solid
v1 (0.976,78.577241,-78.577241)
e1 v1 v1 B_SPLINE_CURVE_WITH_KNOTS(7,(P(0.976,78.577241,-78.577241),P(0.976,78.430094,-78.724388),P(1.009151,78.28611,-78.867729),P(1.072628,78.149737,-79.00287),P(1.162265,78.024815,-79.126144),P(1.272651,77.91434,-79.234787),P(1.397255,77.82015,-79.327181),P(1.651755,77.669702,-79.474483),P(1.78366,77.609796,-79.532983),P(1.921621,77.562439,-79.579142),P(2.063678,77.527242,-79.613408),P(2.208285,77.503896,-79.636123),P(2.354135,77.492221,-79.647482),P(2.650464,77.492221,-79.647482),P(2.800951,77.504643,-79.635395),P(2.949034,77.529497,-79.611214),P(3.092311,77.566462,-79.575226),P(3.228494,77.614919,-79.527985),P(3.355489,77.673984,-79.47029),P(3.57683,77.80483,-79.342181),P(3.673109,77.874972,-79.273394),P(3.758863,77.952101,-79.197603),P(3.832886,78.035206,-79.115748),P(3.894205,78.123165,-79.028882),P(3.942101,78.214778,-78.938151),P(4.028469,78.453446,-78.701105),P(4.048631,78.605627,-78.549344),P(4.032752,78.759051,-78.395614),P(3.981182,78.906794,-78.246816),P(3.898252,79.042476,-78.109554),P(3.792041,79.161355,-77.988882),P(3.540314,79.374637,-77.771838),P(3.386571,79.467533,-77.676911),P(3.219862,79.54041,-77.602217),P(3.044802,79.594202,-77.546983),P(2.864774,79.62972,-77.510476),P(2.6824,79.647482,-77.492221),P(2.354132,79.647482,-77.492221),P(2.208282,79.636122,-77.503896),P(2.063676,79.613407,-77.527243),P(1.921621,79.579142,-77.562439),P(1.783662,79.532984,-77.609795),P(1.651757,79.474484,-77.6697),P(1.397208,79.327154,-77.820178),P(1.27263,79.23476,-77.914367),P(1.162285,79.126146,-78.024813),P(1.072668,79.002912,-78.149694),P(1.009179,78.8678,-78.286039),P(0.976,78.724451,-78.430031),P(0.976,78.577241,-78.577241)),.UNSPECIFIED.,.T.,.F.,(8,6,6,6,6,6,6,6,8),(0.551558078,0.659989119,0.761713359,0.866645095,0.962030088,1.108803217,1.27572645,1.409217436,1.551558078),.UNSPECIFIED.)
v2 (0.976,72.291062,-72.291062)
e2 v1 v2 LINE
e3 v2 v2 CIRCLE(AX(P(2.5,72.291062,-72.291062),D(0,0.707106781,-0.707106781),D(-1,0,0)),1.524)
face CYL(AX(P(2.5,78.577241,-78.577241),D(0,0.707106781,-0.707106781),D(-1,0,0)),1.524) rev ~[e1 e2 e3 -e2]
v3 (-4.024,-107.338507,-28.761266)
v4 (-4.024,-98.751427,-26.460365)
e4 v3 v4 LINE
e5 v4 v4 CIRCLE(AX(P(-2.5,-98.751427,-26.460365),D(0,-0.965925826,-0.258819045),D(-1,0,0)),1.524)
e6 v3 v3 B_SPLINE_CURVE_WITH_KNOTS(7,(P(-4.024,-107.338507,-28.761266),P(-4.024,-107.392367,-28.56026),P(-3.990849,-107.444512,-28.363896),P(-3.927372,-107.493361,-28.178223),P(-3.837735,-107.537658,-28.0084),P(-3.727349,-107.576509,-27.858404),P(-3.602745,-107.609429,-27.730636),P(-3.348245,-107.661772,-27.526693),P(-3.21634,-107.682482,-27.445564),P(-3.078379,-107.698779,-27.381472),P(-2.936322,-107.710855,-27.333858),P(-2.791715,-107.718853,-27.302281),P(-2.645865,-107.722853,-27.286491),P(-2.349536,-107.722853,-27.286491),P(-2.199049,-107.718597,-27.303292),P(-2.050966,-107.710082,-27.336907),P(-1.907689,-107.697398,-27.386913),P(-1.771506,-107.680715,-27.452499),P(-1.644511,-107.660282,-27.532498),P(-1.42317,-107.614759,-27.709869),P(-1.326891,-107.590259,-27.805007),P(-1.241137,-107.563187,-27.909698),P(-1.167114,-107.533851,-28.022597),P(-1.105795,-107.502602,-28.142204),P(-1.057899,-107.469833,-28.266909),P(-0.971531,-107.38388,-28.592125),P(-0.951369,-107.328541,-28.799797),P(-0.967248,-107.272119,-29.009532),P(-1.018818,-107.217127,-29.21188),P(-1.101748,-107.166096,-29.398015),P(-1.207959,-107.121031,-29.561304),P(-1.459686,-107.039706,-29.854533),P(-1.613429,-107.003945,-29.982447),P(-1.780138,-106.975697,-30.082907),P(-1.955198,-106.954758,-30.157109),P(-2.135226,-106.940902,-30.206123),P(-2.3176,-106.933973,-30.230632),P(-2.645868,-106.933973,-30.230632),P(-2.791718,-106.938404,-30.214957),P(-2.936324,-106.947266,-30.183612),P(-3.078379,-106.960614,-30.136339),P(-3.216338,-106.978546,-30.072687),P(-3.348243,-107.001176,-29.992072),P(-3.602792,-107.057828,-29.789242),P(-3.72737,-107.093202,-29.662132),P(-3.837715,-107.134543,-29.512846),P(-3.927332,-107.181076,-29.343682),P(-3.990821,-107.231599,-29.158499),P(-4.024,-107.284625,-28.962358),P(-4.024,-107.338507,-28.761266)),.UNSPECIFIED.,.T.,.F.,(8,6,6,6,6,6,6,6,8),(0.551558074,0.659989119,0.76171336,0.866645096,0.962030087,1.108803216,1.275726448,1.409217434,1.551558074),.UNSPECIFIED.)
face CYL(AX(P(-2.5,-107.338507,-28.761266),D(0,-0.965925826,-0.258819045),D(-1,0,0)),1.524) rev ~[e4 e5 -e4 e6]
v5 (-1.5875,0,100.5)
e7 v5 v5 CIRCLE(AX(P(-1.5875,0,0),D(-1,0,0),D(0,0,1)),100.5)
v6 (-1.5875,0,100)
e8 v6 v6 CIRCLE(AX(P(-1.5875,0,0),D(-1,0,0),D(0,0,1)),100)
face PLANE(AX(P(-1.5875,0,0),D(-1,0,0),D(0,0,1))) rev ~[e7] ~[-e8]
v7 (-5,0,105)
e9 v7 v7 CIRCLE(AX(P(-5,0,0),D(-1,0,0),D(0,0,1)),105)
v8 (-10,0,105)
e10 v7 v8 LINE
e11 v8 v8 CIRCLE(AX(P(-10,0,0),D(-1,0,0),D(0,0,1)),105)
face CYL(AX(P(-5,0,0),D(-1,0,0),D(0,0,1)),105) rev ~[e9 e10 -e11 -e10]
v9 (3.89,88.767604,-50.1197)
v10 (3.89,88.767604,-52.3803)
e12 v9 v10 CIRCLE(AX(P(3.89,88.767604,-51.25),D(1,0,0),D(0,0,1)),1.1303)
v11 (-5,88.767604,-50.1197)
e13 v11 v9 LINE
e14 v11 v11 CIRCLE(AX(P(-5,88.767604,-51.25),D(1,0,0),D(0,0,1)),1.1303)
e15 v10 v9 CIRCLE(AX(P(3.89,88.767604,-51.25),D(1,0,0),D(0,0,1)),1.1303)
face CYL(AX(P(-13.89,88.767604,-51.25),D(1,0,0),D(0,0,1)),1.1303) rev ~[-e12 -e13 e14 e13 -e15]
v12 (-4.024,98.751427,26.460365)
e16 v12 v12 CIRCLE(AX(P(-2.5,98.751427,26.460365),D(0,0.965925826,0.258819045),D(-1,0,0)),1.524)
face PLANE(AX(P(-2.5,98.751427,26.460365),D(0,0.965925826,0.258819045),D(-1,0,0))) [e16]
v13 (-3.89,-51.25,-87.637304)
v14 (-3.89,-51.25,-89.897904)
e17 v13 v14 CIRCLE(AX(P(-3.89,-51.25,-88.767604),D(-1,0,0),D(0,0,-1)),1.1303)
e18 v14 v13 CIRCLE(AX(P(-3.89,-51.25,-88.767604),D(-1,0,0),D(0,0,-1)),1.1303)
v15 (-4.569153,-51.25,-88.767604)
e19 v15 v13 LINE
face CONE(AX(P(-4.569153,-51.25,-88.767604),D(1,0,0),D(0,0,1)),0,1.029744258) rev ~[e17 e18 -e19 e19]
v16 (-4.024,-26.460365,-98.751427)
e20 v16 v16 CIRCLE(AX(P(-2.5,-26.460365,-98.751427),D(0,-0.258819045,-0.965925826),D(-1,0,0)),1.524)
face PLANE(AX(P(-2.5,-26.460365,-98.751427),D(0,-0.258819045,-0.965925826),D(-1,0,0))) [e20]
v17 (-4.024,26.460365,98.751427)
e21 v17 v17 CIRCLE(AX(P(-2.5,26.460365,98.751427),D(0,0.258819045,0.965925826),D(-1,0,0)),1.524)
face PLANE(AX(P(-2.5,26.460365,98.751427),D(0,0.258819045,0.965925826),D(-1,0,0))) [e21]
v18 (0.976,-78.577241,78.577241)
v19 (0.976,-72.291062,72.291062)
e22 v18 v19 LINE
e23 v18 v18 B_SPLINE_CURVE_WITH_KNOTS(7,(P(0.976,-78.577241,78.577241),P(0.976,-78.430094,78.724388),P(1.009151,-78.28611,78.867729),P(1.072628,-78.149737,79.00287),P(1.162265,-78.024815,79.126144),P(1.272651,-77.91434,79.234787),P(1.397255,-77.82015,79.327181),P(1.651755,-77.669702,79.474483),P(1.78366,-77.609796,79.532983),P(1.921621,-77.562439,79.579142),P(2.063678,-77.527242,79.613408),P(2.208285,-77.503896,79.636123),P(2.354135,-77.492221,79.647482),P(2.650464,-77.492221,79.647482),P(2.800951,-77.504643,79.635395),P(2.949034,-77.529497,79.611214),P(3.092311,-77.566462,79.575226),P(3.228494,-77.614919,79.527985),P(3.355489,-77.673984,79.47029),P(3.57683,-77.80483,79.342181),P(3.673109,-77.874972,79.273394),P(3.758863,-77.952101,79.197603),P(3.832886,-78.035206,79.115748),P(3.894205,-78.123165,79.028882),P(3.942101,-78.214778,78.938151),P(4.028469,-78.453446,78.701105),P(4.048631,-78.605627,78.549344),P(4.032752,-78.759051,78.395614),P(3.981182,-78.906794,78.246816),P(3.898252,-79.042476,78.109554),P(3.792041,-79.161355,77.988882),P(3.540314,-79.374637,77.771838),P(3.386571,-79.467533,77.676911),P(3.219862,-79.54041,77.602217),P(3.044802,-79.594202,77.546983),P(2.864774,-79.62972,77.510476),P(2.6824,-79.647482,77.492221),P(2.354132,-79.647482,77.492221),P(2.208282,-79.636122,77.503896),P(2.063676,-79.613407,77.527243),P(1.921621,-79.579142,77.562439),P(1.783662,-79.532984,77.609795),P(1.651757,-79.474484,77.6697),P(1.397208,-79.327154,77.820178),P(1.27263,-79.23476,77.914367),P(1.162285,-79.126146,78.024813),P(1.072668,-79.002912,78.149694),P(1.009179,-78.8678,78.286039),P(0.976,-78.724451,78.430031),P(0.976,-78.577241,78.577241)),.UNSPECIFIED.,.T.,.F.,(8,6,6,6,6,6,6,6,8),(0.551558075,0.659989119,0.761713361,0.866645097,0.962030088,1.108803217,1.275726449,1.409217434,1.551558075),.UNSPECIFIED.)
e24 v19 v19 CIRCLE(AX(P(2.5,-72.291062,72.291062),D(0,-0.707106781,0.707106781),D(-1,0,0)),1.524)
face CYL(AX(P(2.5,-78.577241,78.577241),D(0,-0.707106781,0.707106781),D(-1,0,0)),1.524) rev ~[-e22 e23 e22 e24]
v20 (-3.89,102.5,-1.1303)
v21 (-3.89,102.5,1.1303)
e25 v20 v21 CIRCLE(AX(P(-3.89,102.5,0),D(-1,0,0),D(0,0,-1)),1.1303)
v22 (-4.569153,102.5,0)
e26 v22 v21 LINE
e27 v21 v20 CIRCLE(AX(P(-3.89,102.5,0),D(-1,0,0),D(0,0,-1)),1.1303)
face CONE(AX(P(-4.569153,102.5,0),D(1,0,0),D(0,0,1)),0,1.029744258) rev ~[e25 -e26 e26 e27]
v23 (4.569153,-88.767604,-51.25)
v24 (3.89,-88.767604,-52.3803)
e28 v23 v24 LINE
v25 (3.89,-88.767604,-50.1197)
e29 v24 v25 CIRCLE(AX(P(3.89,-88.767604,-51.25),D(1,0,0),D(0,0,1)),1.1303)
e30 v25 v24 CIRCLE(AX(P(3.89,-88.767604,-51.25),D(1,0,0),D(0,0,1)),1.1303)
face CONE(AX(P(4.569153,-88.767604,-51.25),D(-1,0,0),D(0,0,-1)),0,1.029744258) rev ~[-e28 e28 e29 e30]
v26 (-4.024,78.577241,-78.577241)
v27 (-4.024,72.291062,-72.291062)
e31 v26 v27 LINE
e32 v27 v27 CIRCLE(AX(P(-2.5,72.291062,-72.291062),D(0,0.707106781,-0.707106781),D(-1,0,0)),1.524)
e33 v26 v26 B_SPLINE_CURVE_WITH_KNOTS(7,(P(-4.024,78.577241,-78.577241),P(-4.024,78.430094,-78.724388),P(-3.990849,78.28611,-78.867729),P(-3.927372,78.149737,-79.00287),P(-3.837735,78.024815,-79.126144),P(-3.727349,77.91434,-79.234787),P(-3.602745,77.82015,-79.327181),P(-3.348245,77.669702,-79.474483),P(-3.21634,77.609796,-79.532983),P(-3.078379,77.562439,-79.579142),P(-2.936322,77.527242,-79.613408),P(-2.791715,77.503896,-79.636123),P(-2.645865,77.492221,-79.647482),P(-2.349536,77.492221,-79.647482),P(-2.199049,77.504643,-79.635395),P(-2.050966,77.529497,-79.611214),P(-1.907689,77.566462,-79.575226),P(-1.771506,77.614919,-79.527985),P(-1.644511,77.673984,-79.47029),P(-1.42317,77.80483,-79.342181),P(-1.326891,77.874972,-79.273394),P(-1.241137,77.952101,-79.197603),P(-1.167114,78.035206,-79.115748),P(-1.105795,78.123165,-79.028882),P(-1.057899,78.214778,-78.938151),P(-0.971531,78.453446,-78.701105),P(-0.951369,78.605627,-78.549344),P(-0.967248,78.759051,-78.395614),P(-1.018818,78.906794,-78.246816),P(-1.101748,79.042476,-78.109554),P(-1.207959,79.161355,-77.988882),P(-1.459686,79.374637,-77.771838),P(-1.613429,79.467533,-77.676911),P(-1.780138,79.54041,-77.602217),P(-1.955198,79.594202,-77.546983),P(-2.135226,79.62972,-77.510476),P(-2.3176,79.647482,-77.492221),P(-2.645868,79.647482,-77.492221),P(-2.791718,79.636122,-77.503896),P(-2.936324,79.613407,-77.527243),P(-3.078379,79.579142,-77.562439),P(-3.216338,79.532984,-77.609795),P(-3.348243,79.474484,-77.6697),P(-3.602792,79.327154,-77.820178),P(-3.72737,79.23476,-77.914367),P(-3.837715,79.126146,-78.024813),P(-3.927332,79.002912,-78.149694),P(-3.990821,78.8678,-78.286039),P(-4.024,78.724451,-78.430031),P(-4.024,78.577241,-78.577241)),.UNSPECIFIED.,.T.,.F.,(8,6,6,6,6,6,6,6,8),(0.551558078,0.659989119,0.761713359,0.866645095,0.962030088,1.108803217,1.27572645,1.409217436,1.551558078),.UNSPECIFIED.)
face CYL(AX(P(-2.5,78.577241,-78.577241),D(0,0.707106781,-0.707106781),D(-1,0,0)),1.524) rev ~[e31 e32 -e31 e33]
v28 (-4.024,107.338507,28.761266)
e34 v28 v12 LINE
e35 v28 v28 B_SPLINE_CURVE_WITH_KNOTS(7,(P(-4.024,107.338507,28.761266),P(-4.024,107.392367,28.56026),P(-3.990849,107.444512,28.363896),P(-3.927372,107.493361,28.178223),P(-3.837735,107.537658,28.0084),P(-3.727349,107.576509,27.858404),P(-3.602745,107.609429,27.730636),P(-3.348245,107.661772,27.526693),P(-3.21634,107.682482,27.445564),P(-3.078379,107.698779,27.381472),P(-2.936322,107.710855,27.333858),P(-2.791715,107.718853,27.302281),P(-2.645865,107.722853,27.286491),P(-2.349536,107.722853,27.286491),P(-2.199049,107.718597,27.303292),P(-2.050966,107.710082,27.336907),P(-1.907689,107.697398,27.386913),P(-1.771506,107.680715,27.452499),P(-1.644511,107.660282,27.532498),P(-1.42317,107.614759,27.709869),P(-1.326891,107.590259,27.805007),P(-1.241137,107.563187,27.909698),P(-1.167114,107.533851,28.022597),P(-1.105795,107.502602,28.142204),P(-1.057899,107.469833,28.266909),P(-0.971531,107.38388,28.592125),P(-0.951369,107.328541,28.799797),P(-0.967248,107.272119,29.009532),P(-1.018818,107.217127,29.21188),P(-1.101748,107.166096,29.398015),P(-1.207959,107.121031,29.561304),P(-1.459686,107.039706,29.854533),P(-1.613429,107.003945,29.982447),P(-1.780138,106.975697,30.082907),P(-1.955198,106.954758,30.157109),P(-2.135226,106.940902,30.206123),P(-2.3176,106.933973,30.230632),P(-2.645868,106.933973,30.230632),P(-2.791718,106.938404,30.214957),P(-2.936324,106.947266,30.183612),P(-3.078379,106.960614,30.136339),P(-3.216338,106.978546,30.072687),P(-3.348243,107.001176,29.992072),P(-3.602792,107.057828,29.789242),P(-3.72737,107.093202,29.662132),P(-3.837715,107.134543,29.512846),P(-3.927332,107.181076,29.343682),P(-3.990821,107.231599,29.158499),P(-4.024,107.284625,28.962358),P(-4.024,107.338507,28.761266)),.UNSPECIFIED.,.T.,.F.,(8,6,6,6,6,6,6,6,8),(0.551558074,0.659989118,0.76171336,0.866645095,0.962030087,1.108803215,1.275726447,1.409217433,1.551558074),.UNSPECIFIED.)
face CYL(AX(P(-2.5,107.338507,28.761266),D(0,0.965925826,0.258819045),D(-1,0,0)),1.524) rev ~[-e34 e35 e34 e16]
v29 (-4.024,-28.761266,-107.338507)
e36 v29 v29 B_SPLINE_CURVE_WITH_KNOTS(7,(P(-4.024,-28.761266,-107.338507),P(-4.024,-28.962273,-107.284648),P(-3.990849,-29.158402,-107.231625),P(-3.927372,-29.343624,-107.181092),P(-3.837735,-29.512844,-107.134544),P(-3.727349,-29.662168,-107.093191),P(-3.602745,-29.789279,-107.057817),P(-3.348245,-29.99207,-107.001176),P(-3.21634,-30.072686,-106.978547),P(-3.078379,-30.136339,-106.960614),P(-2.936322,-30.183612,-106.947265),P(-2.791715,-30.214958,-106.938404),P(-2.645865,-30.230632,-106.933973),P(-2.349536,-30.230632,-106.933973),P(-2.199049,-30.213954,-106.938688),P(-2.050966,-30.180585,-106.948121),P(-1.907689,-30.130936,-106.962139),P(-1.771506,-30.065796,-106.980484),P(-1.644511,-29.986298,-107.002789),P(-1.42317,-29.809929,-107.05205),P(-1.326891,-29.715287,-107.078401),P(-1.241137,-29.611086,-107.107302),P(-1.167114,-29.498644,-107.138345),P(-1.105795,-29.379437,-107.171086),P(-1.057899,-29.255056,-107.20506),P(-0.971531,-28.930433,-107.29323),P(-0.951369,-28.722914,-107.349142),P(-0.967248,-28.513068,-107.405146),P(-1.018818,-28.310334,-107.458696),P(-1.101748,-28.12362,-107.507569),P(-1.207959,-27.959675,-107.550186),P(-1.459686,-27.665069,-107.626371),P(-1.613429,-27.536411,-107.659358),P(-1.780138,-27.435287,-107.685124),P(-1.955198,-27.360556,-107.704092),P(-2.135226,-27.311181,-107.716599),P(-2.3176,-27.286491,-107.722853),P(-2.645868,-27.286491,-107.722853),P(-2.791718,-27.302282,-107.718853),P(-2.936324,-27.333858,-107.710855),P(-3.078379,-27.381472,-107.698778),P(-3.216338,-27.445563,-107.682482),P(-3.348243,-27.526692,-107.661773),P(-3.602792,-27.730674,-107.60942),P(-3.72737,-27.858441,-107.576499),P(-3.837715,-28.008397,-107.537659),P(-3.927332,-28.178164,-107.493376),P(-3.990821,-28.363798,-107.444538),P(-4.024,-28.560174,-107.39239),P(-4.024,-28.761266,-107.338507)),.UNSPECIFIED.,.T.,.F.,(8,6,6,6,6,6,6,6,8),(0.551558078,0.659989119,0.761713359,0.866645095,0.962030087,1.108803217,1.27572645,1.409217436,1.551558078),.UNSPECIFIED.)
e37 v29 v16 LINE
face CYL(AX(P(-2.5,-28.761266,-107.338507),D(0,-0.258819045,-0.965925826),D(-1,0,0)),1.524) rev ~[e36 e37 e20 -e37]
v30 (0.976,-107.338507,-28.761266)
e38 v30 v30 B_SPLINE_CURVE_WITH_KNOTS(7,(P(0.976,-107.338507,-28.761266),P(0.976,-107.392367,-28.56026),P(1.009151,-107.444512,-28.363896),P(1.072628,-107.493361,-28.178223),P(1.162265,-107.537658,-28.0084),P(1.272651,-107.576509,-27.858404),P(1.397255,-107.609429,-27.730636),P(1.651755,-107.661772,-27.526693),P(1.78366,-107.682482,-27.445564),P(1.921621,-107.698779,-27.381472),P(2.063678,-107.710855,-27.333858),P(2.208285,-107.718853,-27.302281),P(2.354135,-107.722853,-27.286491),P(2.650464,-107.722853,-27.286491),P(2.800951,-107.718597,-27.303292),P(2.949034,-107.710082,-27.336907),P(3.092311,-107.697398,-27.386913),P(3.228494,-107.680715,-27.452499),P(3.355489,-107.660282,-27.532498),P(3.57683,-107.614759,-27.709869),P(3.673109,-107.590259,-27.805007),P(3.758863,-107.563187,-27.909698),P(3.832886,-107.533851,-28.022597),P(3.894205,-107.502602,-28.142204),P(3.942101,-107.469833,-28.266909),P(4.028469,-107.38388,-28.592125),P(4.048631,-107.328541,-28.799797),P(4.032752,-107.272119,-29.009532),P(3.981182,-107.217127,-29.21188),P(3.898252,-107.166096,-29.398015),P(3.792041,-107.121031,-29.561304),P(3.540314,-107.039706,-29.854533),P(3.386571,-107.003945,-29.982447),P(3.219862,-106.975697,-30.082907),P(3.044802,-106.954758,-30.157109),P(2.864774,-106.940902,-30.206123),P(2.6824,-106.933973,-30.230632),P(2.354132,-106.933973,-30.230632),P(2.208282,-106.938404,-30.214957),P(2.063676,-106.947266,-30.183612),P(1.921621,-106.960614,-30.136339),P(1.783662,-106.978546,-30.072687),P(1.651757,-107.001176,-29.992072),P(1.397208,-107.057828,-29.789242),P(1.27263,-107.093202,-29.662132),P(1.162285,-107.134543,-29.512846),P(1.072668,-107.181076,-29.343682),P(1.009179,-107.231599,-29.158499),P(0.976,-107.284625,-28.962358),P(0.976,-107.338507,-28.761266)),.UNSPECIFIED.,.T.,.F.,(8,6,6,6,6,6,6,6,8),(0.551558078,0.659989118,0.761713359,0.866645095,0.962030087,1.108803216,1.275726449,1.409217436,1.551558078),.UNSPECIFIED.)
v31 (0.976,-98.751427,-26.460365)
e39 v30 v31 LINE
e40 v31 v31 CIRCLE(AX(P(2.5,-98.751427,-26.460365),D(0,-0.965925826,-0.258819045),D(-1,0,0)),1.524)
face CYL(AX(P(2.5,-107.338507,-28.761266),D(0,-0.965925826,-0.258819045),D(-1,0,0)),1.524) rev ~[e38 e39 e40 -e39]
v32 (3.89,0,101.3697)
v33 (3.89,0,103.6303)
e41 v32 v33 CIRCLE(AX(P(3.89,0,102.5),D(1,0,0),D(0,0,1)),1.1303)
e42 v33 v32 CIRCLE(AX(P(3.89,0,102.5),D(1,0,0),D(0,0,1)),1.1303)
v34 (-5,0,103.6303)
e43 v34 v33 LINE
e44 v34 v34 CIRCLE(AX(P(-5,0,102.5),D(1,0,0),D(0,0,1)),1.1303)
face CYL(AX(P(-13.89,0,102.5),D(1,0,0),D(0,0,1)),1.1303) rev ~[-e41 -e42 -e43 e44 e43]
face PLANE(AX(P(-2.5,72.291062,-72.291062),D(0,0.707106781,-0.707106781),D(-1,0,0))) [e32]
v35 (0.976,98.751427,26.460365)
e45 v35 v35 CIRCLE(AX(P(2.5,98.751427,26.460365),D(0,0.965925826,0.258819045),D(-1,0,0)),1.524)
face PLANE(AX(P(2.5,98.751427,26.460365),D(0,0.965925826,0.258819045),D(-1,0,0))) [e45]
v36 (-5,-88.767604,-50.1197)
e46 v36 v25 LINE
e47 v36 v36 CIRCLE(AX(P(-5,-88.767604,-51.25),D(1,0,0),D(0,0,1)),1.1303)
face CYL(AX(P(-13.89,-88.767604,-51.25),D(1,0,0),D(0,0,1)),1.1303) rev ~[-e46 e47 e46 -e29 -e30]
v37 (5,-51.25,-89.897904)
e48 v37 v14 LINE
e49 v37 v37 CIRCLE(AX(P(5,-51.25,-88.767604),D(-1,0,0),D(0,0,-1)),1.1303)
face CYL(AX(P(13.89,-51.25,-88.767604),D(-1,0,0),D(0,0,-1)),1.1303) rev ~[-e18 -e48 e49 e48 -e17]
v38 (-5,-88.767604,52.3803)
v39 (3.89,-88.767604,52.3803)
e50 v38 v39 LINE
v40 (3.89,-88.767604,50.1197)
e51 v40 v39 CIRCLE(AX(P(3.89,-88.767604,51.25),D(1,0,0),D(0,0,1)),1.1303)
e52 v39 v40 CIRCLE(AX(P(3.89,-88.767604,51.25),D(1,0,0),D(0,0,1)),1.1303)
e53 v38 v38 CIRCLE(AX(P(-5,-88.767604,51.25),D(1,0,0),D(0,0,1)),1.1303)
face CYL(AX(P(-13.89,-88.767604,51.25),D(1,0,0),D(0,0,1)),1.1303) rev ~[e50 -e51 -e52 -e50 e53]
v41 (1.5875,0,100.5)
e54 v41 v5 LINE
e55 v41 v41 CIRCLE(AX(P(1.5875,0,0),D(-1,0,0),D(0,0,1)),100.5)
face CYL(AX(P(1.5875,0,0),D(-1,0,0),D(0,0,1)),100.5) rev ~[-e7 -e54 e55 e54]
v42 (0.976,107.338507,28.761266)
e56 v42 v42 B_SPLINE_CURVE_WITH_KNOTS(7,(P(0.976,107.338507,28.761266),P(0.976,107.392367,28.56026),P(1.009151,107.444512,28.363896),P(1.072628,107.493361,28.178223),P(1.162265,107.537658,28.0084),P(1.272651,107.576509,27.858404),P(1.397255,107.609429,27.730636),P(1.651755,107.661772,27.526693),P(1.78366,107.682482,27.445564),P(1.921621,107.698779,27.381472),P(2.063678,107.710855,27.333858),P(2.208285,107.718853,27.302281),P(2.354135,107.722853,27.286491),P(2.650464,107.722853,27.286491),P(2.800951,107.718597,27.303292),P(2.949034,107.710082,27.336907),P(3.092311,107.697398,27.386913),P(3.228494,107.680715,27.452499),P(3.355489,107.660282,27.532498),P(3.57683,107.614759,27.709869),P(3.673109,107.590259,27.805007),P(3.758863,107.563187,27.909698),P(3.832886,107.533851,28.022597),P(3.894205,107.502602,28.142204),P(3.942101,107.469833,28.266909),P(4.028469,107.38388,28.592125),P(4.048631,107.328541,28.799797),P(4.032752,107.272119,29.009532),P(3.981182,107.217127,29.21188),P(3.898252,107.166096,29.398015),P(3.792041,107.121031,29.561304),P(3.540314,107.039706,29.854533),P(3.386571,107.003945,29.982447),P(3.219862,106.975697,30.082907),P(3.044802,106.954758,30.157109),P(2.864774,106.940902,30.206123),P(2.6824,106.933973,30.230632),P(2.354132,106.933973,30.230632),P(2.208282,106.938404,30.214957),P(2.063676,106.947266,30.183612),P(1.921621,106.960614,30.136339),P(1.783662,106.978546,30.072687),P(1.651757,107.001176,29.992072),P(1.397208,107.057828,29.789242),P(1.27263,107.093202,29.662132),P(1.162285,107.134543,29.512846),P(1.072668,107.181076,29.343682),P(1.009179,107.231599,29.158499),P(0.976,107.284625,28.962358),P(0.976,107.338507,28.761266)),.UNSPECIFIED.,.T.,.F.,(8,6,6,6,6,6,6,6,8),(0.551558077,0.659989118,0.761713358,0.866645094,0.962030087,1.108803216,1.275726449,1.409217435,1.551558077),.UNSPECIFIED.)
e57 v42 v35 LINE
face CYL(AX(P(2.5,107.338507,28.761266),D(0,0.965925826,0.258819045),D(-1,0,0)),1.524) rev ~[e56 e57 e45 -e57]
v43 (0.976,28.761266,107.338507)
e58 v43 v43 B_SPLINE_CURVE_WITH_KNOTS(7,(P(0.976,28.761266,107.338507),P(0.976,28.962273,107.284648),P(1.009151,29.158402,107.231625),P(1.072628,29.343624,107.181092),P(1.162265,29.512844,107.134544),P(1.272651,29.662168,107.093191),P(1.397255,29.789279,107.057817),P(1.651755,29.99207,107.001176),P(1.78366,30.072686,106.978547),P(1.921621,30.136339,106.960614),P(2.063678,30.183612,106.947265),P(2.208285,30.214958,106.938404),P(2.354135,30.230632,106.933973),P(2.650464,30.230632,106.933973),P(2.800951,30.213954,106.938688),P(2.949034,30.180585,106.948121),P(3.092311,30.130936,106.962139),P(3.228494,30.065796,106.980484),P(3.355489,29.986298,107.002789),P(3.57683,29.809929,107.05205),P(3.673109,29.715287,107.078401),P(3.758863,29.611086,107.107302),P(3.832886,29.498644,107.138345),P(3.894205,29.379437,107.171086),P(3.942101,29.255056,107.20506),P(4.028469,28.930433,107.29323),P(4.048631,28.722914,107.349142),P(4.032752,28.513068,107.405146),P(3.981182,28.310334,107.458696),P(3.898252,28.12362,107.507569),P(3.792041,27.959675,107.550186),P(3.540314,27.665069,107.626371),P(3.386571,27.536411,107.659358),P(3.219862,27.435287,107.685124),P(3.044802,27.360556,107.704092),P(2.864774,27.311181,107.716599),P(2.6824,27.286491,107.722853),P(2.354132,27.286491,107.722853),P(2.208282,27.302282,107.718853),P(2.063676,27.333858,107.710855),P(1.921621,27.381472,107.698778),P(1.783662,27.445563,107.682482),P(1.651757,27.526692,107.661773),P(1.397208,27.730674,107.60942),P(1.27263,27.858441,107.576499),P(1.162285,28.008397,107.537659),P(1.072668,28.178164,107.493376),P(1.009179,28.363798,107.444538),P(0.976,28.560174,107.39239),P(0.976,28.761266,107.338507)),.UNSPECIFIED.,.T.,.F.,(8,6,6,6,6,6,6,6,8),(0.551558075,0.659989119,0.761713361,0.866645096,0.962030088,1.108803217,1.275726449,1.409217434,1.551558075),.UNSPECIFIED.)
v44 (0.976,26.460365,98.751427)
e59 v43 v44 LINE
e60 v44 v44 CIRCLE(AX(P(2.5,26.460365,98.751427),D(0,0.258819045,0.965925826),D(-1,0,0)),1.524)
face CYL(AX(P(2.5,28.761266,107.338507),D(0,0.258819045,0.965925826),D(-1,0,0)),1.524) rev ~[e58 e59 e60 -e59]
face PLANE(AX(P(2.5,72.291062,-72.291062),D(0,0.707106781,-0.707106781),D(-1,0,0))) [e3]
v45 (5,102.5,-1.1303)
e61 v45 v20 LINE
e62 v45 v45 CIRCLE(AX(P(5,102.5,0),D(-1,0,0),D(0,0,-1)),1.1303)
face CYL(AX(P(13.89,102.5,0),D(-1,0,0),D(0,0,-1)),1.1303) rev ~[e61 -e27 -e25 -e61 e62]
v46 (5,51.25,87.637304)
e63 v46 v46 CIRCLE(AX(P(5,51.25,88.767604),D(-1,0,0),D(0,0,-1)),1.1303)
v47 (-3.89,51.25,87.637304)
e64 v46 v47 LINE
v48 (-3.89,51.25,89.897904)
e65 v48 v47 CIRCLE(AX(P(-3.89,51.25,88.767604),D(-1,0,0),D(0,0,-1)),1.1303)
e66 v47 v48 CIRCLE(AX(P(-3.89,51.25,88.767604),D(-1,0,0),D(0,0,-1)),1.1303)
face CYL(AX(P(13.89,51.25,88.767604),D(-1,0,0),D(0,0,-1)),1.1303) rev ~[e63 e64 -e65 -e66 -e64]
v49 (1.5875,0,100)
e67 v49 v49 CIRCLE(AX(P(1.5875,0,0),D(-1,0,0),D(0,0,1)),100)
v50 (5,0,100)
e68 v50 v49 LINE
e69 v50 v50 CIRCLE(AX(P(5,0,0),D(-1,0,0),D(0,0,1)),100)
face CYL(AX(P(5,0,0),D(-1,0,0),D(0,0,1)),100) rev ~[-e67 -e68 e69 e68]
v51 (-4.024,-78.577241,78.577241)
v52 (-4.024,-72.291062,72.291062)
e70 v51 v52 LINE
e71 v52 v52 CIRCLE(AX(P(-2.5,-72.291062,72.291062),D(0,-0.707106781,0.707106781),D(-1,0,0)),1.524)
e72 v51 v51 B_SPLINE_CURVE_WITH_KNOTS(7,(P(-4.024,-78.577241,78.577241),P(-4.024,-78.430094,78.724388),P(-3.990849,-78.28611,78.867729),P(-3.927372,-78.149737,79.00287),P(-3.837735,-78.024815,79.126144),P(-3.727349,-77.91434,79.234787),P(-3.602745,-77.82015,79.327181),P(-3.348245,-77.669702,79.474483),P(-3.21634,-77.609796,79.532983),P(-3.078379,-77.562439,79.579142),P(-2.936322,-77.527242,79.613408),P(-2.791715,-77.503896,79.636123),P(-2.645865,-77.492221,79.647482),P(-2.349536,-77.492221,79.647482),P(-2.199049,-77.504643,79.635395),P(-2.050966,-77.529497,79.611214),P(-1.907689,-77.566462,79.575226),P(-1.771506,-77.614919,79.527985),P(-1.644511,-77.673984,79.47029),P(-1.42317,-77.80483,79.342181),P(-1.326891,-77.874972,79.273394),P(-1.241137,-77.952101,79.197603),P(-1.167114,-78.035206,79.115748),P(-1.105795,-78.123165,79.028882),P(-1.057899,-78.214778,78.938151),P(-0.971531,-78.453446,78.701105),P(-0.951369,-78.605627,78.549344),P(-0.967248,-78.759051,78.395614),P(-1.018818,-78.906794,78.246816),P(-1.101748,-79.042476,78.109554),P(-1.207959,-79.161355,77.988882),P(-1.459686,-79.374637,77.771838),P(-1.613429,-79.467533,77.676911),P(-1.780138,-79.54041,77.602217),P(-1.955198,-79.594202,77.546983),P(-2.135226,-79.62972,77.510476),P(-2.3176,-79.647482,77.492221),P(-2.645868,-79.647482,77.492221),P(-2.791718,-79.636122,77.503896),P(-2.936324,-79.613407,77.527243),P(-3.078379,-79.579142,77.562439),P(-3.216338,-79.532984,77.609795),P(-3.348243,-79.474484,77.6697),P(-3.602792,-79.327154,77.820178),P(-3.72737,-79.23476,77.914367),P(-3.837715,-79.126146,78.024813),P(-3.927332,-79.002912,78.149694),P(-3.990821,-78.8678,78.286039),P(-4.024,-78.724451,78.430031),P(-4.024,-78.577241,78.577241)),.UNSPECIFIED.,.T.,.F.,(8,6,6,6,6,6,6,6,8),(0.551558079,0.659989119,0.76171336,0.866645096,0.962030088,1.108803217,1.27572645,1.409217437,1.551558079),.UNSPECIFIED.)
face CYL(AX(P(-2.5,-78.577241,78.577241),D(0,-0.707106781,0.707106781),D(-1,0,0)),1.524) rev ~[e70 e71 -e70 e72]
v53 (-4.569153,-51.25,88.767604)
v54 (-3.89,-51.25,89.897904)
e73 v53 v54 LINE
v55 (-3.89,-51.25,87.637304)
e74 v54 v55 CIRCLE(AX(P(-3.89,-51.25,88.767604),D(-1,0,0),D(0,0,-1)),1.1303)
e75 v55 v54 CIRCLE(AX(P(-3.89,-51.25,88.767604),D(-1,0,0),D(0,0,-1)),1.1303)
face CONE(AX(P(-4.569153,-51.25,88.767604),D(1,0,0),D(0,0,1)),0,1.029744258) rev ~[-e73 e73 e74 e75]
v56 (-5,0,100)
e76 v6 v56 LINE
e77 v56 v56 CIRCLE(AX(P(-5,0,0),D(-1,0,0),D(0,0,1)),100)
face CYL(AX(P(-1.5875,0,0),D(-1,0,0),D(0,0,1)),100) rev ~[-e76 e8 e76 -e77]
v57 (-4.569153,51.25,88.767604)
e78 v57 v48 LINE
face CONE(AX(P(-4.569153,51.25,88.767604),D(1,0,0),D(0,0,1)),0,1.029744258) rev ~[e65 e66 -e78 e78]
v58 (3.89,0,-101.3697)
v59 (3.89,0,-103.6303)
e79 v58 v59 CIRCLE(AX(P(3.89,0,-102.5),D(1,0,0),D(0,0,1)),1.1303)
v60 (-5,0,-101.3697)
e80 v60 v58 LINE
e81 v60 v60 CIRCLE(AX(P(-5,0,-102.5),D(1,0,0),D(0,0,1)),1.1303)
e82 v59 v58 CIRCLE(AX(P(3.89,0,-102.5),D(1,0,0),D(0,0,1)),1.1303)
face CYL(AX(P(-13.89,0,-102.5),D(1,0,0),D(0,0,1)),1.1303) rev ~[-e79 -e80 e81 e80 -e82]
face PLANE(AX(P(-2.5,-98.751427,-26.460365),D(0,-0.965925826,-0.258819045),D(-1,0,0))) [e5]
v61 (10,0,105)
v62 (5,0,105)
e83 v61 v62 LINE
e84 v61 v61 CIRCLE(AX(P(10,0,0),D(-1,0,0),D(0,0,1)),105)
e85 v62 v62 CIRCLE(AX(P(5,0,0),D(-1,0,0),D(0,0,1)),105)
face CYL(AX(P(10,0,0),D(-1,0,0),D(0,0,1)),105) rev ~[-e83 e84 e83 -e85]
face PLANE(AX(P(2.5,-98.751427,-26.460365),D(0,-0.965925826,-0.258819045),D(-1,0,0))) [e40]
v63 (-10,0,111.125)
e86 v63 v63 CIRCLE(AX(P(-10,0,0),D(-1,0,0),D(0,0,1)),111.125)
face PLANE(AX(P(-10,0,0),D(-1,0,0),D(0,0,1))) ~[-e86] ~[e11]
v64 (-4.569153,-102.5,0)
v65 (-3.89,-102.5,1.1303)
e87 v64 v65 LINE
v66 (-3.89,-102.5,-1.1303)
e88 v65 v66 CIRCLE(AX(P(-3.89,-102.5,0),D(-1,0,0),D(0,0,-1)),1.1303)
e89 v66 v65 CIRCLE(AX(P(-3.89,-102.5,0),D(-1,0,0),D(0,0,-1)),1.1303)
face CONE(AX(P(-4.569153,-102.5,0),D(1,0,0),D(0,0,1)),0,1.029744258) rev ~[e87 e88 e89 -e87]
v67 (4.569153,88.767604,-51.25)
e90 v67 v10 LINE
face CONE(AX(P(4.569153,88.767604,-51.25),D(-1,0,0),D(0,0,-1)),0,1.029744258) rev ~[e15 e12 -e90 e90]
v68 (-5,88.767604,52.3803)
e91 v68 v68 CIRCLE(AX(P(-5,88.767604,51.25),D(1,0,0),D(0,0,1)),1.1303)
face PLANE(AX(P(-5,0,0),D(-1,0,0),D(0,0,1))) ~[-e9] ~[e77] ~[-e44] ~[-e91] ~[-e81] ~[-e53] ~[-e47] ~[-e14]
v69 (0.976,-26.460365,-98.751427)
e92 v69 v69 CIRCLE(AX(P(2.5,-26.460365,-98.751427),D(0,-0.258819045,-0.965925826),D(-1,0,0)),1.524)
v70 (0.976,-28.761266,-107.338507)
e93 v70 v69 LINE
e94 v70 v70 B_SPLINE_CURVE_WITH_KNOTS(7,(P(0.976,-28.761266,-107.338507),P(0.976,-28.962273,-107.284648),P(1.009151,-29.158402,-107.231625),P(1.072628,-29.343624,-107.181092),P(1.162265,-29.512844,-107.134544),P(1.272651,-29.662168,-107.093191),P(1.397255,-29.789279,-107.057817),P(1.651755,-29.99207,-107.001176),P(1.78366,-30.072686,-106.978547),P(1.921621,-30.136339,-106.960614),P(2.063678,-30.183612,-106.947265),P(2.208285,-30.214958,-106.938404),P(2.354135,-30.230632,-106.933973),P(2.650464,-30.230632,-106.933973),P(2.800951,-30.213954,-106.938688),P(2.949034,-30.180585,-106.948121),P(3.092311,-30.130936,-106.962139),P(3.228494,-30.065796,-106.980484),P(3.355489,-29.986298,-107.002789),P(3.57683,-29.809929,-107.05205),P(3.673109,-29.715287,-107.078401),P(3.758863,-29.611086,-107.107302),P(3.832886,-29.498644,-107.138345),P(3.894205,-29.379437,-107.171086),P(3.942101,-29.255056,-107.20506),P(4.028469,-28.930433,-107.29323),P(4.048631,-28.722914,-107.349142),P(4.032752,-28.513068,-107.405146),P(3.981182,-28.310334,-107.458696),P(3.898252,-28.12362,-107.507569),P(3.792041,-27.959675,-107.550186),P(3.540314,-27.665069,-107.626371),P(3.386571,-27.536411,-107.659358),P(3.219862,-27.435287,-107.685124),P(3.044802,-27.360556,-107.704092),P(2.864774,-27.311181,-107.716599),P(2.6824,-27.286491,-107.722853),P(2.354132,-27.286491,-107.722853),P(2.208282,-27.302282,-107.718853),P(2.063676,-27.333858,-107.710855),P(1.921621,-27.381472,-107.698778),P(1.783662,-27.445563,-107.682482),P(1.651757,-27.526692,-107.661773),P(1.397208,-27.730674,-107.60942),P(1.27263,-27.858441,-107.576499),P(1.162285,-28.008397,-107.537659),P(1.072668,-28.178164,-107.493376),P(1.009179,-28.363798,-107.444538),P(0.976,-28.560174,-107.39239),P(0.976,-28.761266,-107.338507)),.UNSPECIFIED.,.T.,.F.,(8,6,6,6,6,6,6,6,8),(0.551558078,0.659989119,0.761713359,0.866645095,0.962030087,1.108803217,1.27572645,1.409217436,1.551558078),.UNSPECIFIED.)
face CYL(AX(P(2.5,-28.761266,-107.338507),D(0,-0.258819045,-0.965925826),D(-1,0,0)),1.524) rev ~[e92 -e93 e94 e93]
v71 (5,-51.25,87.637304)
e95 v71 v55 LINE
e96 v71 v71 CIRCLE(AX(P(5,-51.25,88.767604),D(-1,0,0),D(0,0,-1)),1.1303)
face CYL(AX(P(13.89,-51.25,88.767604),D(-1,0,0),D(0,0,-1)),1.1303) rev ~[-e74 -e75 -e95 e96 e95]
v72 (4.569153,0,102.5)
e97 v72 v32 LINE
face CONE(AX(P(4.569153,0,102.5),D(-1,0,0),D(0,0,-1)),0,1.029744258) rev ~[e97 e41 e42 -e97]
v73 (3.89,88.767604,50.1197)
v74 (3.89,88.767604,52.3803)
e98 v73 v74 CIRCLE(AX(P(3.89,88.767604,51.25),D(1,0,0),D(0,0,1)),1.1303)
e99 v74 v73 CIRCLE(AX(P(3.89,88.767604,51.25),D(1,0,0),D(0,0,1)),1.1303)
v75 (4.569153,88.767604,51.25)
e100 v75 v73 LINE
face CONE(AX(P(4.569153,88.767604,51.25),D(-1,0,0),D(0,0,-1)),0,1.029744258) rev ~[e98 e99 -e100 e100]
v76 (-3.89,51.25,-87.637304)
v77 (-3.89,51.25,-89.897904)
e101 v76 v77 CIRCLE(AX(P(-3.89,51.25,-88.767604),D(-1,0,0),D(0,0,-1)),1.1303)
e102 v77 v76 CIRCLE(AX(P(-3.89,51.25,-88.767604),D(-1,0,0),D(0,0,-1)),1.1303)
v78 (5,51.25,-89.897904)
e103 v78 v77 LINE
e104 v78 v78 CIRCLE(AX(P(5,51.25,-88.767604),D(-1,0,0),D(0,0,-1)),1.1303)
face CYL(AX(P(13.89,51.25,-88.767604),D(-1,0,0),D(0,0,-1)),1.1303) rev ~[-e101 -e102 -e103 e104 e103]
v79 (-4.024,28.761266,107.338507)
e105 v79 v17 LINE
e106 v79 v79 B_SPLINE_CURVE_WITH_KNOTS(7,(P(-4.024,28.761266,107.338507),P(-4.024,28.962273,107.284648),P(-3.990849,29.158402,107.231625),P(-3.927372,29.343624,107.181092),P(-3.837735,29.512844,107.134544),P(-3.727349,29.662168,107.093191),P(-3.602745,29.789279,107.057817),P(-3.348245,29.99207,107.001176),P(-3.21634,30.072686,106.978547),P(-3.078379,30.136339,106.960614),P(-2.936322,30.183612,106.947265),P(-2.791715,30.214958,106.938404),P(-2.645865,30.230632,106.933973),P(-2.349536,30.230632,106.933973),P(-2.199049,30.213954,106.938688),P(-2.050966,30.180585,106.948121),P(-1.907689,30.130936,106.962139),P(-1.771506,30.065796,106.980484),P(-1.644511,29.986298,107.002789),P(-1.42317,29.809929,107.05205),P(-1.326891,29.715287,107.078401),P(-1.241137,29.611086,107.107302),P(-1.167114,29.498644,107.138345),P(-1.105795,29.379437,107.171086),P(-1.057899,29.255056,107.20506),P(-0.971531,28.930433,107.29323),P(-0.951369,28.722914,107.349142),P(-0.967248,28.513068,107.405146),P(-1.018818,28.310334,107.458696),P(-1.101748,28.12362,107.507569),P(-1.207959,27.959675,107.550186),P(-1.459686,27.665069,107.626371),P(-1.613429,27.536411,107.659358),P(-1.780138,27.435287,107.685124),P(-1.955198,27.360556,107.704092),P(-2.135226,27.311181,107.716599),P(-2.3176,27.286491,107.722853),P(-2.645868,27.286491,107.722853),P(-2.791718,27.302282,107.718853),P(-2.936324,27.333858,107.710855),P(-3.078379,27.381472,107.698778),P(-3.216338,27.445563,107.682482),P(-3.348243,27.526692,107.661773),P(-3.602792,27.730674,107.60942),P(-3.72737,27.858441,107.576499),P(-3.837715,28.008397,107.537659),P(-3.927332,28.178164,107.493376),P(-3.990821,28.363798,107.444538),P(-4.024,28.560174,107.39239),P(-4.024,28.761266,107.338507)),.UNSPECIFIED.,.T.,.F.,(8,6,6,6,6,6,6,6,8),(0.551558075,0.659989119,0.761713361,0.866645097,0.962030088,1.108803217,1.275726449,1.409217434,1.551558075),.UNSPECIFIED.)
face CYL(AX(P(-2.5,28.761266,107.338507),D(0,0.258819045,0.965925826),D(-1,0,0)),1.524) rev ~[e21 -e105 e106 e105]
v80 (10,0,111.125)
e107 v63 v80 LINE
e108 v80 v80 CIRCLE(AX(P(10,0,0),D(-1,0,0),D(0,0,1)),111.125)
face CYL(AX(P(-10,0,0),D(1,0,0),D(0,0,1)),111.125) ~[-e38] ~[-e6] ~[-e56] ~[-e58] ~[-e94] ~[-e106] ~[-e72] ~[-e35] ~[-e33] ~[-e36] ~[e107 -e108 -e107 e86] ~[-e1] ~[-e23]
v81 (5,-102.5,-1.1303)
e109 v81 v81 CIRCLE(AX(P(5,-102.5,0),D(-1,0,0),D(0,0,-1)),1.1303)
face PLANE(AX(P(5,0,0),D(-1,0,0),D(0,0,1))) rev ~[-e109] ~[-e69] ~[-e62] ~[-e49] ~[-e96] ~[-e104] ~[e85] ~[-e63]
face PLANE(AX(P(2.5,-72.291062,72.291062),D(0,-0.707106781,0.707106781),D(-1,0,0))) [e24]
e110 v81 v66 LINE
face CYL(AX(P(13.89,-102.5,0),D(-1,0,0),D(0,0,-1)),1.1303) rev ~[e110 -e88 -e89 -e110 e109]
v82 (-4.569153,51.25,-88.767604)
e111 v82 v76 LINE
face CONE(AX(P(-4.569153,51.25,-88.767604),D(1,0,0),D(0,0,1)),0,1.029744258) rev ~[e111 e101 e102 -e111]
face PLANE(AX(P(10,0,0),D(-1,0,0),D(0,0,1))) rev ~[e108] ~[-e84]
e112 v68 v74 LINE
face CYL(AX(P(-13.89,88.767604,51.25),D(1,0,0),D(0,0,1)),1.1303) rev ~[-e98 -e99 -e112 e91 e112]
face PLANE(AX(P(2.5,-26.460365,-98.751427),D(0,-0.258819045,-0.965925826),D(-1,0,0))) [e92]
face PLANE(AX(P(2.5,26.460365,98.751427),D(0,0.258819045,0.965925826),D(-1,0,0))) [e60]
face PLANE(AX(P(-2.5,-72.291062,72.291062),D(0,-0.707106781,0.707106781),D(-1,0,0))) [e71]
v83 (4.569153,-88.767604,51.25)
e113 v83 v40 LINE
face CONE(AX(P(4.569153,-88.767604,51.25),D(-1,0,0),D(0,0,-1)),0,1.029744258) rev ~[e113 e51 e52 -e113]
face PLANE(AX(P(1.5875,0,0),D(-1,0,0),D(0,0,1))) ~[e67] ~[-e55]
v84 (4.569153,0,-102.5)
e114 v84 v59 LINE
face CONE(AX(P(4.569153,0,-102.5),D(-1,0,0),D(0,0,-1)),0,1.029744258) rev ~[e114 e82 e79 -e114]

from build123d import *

# Parameters (mm, degrees)
TAP_DRILL_FOR_4_40_TAP1_D     = 2.2606
TAP_DRILL_FOR_4_40_TAP1_DEPTH = 8.89
TAP_DRILL_FOR_4_40_TAP1_TIP   = 0.679152758
TAP_DRILL_FOR_4_40_TAP2_D     = 2.2606
TAP_DRILL_FOR_4_40_TAP2_DEPTH = 8.89
TAP_DRILL_FOR_4_40_TAP2_TIP   = 0.679152758
SKETCH8_R                     = 1.524
CUT_EXTRUDE1_DEPTH            = 8.89
CIRPATTERN1_COUNT             = 6


with BuildPart() as part:
    # Sketch3 → Revolve1 (revolve)
    with BuildSketch(Plane(origin=(0, 0, 0), x_dir=(1, 0, 0), z_dir=(0, 1, 0))):
        Polygon((-10, -111.125), (10, -111.125), (10, -105), (5, -105), (5, -100), (1.5875, -100), (1.5875, -100.5), (-1.5875, -100.5), (-1.5875, -100), (-5, -100), (-5, -105), (-10, -105), align=None)
    revolve(axis=Axis((0, 0, 0), (-1, 0, 0)))

    # Tap Drill for #4-40 Tap1
    with Locations(Plane(origin=(5, -102.5, 0), x_dir=(0, 0, 1), z_dir=(1, 0, 0))):
        with Locations((0, 0), (88.767603888, -51.25), (-88.767603888, -51.25), (-88.767603888, -153.75), (0, -205), (88.767603888, -153.75)):
            Hole(TAP_DRILL_FOR_4_40_TAP1_D / 2, depth=TAP_DRILL_FOR_4_40_TAP1_DEPTH)
            with Locations((0, 0, -(TAP_DRILL_FOR_4_40_TAP1_DEPTH + TAP_DRILL_FOR_4_40_TAP1_TIP / 2))):  # 118° drill point
                Cone(0, TAP_DRILL_FOR_4_40_TAP1_D / 2, TAP_DRILL_FOR_4_40_TAP1_TIP, mode=Mode.SUBTRACT)

    # Tap Drill for #4-40 Tap2
    with Locations(Plane(origin=(-5, -88.767603888, 51.25), x_dir=(0, 0, -1), z_dir=(-1, 0, 0))):
        with Locations((0, 0), (-51.25, -88.767603888), (0, -177.535207776), (102.5, -177.535207776), (153.75, -88.767603888), (102.5, 0)):
            Hole(TAP_DRILL_FOR_4_40_TAP2_D / 2, depth=TAP_DRILL_FOR_4_40_TAP2_DEPTH)
            with Locations((0, 0, -(TAP_DRILL_FOR_4_40_TAP2_DEPTH + TAP_DRILL_FOR_4_40_TAP2_TIP / 2))):  # 118° drill point
                Cone(0, TAP_DRILL_FOR_4_40_TAP2_D / 2, TAP_DRILL_FOR_4_40_TAP2_TIP, mode=Mode.SUBTRACT)

    # Sketch8 → Cut-Extrude1 (cut)
    with BuildSketch(Plane(origin=(0, 107.338507446, 28.761266387), x_dir=(-1, 0, 0), z_dir=(0, 0.9659258262890681, 0.25881904510252135))):
        with Locations((-2.5, 0)):
            Circle(SKETCH8_R)
        with Locations((2.5, 0)):
            Circle(SKETCH8_R)
    cut_extrude1 = extrude(amount=-CUT_EXTRUDE1_DEPTH, mode=Mode.SUBTRACT)

    # CirPattern1: Cut-Extrude1 ×6 about axis
    cirpattern1_axis = Axis((-10, 0, 0), (1, 0, 0))
    for i in range(1, CIRPATTERN1_COUNT):
        add(cut_extrude1.rotate(cirpattern1_axis, i * 360 / CIRPATTERN1_COUNT), mode=Mode.SUBTRACT)


solid = part.part
